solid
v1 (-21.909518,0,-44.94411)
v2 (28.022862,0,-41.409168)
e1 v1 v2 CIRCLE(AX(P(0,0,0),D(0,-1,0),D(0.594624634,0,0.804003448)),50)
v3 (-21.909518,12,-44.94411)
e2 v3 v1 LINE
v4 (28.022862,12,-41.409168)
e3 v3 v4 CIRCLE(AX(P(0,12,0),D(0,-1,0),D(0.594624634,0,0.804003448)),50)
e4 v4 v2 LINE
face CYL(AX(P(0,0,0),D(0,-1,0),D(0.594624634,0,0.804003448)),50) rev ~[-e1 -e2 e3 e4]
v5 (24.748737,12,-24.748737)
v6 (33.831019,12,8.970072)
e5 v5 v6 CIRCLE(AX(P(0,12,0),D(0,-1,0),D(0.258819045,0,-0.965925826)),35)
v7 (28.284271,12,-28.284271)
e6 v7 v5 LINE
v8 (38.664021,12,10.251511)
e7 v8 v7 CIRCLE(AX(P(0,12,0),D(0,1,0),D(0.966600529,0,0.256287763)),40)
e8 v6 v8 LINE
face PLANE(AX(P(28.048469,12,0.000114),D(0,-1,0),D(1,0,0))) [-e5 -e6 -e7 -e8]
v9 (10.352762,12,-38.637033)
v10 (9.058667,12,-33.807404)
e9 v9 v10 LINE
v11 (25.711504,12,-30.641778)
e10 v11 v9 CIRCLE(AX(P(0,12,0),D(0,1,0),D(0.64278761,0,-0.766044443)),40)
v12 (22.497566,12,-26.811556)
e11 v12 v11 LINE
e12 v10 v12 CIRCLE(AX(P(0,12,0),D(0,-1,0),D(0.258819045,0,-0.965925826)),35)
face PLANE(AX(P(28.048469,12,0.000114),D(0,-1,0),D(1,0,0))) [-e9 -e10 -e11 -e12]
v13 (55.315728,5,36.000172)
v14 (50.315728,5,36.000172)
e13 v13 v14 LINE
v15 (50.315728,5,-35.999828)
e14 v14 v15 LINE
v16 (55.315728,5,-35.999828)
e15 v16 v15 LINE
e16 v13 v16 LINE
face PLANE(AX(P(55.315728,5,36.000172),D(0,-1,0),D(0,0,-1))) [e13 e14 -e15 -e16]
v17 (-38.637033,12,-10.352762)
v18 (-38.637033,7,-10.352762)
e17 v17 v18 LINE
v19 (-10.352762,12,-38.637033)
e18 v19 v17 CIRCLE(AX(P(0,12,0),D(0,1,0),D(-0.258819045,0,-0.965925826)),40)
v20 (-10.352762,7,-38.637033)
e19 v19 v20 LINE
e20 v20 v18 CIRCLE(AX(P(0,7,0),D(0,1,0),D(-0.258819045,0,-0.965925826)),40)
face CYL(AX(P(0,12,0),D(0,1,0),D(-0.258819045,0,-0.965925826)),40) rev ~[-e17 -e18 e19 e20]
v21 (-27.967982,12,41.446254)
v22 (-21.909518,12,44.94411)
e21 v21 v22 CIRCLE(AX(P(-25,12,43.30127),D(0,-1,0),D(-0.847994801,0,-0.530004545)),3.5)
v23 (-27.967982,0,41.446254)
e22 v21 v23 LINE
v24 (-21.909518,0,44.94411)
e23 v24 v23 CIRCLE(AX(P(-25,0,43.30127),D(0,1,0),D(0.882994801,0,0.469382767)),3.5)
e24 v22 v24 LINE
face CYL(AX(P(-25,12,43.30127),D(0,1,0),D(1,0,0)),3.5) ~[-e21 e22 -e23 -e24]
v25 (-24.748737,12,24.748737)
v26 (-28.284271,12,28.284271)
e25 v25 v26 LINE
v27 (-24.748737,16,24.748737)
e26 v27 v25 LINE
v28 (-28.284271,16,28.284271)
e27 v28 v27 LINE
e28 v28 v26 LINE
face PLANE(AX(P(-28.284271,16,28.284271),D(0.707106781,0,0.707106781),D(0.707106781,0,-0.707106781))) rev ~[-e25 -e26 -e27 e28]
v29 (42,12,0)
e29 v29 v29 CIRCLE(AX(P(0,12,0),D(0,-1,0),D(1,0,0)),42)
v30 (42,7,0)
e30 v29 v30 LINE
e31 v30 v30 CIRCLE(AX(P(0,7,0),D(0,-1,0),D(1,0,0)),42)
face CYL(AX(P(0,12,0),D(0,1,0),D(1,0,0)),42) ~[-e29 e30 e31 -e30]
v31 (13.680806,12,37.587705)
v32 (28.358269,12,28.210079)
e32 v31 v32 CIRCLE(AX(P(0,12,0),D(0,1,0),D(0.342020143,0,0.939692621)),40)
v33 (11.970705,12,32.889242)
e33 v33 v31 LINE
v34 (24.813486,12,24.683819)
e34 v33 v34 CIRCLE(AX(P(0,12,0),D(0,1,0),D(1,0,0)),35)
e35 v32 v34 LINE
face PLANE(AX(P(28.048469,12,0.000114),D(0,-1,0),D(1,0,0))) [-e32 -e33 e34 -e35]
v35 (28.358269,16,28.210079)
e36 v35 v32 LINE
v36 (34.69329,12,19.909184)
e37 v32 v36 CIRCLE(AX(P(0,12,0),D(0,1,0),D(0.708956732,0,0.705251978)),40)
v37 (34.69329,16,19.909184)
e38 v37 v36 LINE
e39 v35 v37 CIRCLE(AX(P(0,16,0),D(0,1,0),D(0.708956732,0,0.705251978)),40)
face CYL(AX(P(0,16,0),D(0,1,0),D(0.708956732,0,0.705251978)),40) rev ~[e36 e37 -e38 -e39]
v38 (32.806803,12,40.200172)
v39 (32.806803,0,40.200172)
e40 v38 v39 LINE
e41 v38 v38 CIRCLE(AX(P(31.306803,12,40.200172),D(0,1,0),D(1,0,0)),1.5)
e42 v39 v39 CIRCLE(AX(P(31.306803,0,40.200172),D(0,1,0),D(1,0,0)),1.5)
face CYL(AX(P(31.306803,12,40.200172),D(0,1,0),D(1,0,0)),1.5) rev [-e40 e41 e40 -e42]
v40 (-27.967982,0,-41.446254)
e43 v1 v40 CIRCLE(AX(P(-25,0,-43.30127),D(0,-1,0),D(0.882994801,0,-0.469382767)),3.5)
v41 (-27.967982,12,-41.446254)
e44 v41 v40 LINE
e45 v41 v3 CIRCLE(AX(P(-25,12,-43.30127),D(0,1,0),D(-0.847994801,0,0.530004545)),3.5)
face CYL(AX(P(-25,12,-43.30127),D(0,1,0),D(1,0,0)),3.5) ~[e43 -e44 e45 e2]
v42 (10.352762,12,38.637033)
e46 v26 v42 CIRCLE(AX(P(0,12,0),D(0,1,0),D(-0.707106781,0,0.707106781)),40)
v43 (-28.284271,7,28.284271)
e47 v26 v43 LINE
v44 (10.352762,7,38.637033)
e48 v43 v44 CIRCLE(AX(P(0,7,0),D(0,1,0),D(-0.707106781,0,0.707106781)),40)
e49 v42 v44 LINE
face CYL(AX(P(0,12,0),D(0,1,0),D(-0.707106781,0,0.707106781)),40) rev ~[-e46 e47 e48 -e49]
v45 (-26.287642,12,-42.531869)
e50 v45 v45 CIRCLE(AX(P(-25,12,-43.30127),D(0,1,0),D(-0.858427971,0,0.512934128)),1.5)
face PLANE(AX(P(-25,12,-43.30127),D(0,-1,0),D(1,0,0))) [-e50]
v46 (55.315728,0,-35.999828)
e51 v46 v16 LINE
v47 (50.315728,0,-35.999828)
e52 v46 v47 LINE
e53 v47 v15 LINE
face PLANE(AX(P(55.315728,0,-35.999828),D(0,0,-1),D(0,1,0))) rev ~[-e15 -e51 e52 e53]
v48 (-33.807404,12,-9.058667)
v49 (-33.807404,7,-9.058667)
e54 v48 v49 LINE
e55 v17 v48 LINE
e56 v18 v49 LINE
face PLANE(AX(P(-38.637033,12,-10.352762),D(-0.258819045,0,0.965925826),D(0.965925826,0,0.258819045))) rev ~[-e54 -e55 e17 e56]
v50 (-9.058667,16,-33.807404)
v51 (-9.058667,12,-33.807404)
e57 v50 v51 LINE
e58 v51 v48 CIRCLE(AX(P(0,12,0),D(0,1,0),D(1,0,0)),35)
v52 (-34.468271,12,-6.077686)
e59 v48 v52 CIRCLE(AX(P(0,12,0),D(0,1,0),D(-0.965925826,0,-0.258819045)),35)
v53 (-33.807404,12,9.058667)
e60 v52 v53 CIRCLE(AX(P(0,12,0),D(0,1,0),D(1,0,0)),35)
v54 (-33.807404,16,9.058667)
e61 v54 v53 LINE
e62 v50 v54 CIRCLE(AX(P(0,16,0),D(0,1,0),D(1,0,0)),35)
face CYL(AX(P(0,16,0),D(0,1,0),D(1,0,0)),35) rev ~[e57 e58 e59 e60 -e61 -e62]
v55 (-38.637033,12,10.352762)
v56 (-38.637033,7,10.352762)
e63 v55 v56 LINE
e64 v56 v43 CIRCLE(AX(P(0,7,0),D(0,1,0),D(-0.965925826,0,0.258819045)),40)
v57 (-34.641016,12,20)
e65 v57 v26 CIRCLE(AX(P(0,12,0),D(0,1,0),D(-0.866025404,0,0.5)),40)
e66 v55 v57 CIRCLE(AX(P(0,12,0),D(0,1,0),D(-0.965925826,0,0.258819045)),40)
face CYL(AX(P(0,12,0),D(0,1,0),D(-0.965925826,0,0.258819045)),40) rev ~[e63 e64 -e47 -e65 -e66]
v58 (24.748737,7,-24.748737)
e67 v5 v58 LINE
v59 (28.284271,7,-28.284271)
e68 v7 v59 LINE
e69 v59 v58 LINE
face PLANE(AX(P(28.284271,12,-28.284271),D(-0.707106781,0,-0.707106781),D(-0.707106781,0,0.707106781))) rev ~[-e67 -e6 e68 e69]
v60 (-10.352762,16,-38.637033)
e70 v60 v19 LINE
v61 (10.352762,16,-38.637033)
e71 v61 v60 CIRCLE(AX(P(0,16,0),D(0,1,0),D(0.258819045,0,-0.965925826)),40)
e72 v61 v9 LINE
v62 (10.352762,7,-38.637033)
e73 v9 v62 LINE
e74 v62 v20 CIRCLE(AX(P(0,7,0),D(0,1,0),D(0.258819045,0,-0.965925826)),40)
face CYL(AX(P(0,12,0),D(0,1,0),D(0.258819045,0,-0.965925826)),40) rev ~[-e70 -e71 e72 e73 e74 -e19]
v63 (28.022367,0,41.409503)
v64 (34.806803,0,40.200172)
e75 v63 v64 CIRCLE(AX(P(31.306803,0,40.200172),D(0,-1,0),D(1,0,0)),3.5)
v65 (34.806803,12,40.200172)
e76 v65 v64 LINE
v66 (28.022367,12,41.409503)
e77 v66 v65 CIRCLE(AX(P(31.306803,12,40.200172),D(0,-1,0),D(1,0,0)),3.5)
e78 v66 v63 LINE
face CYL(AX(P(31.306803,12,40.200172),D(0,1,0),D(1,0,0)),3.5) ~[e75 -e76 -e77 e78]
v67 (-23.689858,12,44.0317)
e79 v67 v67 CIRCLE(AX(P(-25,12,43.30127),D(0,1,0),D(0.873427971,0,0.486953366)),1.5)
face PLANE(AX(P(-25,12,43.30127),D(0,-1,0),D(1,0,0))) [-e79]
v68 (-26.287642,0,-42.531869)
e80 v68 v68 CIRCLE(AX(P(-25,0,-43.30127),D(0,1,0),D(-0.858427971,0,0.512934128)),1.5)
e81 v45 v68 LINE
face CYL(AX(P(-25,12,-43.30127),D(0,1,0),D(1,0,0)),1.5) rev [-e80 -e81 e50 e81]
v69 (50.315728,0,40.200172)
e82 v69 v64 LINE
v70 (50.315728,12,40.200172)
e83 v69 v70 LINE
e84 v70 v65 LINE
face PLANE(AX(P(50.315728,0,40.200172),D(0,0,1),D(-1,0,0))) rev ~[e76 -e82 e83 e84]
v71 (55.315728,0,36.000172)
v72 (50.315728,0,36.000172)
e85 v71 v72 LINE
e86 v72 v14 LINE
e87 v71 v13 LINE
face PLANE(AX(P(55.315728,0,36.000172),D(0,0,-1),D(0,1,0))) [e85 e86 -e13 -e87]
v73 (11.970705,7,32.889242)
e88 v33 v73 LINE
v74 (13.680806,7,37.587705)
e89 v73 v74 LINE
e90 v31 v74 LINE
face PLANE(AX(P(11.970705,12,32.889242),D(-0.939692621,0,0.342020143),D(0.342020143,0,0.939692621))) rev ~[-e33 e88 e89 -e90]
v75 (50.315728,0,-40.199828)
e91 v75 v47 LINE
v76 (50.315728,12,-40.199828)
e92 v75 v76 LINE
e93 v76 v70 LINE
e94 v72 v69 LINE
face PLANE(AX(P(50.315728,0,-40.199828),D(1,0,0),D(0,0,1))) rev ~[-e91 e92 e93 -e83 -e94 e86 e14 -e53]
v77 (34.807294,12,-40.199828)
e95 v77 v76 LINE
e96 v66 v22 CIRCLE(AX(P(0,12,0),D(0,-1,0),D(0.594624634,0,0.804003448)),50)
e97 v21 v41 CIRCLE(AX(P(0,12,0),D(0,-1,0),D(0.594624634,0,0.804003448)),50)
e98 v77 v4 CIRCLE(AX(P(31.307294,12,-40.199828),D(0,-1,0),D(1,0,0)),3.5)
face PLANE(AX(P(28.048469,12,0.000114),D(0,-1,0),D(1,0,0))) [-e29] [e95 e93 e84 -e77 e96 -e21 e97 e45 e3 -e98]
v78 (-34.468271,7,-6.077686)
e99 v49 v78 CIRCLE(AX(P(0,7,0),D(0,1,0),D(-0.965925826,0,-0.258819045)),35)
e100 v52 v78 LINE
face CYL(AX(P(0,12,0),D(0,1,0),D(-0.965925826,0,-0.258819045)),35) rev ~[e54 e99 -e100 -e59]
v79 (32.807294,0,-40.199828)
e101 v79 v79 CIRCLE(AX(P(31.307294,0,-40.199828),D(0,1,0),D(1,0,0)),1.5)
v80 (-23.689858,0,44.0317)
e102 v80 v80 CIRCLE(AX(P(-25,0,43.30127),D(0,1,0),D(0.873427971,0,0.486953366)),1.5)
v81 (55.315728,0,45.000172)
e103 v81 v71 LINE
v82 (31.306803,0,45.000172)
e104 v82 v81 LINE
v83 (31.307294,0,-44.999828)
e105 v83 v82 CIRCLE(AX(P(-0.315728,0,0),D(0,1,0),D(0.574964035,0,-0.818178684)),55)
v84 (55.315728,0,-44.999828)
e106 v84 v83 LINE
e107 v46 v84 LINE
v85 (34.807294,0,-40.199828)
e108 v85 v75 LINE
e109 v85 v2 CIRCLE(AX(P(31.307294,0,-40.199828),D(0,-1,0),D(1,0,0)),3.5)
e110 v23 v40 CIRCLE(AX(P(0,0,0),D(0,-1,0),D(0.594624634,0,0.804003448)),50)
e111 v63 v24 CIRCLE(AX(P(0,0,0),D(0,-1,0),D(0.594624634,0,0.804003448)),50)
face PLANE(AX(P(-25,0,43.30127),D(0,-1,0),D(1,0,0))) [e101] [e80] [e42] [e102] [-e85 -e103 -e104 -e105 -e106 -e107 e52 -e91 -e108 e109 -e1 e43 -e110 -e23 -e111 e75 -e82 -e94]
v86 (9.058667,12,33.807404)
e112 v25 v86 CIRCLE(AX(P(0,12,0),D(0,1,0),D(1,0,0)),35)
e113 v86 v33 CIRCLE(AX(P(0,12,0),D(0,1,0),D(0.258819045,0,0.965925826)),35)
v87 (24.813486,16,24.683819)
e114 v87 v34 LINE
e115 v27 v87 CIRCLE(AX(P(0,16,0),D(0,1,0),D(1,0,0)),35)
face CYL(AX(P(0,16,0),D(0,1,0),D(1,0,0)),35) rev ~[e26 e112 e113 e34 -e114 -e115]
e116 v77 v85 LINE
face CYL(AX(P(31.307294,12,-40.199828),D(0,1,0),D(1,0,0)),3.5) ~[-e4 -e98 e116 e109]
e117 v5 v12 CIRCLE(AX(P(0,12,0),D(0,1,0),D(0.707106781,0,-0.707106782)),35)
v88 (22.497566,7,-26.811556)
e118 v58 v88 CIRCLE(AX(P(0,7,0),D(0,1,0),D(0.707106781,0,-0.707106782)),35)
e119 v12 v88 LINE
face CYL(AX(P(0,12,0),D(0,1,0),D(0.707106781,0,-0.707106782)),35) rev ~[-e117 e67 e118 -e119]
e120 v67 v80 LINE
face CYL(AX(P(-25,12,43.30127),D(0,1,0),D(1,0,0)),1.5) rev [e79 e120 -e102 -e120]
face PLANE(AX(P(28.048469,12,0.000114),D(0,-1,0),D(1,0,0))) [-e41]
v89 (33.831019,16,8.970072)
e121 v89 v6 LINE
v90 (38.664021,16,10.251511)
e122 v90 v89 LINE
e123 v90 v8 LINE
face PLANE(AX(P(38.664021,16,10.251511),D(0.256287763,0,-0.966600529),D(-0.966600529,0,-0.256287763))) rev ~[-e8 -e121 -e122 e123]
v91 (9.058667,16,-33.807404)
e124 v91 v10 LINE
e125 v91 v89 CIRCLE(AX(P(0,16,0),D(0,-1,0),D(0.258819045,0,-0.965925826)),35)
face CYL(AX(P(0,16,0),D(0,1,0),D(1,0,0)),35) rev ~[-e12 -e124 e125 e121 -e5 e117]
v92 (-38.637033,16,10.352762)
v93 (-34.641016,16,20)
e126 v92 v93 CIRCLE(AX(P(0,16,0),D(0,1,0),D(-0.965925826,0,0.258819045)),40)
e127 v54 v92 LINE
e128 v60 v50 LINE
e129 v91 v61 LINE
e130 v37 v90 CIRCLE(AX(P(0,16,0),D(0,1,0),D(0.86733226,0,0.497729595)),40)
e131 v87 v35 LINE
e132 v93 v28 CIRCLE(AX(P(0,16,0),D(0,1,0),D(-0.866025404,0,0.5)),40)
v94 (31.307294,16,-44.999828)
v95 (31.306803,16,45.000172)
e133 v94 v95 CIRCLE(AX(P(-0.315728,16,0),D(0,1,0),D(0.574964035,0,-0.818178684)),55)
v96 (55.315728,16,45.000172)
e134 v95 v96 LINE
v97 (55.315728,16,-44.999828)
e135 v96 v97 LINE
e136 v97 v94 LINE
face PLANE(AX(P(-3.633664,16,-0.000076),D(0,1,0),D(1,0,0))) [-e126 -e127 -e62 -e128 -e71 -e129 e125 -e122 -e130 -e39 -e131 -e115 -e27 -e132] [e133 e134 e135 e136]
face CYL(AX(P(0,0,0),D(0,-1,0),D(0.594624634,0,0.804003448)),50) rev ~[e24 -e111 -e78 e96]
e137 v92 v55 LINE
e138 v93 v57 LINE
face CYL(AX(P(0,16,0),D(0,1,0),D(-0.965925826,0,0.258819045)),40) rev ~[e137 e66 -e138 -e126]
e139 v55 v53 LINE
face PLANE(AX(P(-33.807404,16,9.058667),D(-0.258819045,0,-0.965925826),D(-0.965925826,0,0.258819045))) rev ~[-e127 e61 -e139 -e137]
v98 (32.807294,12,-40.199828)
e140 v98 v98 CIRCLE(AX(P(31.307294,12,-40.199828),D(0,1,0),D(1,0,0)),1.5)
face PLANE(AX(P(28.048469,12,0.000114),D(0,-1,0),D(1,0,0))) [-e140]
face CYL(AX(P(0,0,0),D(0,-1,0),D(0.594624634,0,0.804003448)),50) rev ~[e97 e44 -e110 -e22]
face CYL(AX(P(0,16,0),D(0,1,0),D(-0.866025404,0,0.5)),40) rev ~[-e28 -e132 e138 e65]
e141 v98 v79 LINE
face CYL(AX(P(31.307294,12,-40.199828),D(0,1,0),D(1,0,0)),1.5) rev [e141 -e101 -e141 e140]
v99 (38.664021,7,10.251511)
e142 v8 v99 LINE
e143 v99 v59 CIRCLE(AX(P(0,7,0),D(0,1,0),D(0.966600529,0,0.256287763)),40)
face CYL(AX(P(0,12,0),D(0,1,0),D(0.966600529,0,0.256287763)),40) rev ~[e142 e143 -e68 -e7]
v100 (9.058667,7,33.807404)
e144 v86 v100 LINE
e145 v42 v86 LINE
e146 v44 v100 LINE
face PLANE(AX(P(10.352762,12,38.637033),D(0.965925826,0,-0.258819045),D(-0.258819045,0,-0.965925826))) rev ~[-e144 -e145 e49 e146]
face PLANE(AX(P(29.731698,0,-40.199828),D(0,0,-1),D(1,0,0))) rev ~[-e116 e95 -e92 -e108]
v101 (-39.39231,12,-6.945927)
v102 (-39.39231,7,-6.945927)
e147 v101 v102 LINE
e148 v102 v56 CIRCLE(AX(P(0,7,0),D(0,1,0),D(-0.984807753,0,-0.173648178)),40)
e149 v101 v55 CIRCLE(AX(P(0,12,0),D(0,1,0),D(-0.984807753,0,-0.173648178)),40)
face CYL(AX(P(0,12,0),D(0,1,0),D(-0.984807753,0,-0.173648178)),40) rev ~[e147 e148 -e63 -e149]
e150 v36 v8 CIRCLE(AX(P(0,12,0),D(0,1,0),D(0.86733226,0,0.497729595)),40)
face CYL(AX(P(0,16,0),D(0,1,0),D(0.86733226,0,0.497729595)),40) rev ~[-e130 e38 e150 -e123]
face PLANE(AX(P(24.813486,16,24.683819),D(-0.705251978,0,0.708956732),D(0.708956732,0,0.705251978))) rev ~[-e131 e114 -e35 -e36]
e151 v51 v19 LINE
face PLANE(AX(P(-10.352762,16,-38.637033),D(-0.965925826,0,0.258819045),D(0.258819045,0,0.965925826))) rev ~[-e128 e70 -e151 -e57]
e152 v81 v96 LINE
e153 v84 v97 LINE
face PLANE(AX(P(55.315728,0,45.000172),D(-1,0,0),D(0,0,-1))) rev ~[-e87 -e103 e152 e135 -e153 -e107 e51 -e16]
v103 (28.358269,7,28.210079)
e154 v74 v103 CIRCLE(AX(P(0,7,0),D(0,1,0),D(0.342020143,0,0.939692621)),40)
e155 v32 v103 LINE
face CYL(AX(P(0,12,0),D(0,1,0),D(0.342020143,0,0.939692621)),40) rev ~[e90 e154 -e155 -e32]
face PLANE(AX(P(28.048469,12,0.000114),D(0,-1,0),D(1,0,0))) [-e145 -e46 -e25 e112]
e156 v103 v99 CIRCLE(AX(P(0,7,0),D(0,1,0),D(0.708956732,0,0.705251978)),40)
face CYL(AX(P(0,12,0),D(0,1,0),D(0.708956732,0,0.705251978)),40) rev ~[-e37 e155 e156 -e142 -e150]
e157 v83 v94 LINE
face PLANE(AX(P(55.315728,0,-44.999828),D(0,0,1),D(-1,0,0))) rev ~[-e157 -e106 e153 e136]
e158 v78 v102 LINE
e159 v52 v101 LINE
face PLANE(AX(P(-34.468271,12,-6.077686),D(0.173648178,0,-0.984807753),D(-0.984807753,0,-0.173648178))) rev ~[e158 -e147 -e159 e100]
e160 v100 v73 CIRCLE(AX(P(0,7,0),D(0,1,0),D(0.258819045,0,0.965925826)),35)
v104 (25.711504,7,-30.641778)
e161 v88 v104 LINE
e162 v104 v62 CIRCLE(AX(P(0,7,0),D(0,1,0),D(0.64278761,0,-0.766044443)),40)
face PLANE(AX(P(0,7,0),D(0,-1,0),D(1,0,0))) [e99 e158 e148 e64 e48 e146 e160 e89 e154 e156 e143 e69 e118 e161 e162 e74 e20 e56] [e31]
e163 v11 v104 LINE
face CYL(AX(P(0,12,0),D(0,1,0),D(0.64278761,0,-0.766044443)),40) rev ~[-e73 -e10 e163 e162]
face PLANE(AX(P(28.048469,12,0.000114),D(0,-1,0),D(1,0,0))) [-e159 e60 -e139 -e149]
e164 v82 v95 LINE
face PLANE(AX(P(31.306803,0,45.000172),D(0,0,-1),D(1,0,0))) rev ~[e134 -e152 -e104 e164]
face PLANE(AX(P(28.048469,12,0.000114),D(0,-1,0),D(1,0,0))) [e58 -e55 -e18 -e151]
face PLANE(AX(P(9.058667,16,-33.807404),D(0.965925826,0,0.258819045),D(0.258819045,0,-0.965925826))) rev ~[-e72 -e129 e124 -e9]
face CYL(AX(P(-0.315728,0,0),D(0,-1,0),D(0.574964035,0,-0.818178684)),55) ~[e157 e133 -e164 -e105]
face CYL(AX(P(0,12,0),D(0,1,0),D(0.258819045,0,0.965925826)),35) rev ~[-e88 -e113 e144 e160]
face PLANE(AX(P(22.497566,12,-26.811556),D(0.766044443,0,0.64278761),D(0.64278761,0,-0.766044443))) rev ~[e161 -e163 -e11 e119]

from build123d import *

# Parameters (mm, degrees)
BOSS_EXTRUDE1_DEPTH = 16
CUT_EXTRUDE1_DEPTH  = 12
SKETCH4_W           = 72
SKETCH4_H           = 5
CUT_EXTRUDE2_DEPTH  = 16
SKETCH5_R           = 35
CUT_EXTRUDE3_DEPTH  = 16
CUT_EXTRUDE4_DEPTH  = 10
SKETCH7_R           = 42
BOSS_EXTRUDE2_DEPTH = 5
SKETCH8_R           = 3.5
SKETCH8_R_2         = 1.5
BOSS_EXTRUDE3_DEPTH = 12
SKETCH9_R           = 1.5
CUT_EXTRUDE5_DEPTH  = 12


with BuildPart() as part:
    # Sketch1 → Boss-Extrude1 (new body)
    with BuildSketch(Plane(origin=(0, 0, 0), x_dir=(1, 0, 0), z_dir=(0, 1, 0))):
        with BuildLine():
            Line((24.684271836, -45.0001724), (24.684271836, 44.9998276))
            Line((24.684271836, 44.9998276), (31.307293766, 44.9998276))
            ThreePointArc((31.307293766, 44.9998276), (-55.315728163, 0.000299848), (31.306803106, -45.0001724))
            Line((31.306803106, -45.0001724), (24.684271836, -45.0001724))
        make_face()
        with BuildLine():
            Line((31.307293766, 44.9998276), (24.684271836, 44.9998276))
            Line((24.684271836, 44.9998276), (24.684271836, -45.0001724))
            Line((24.684271836, -45.0001724), (31.306803106, -45.0001724))
            ThreePointArc((31.306803106, -45.0001724), (48.491234556, -25.355086079), (54.684271836, 0))
            ThreePointArc((54.684271836, 0), (48.491372785, 25.354819994), (31.307293766, 44.9998276))
        make_face()
        with BuildLine():
            Line((55.315728164, 44.9998276), (31.307293766, 44.9998276))
            ThreePointArc((31.307293766, 44.9998276), (48.491372785, 25.354819994), (54.684271836, 0))
            ThreePointArc((54.684271836, 0), (48.491234556, -25.355086079), (31.306803106, -45.0001724))
            Line((31.306803106, -45.0001724), (55.315728164, -45.0001724))
            Line((55.315728164, -45.0001724), (55.315728164, 44.9998276))
        make_face()
    extrude(amount=BOSS_EXTRUDE1_DEPTH)

    # Sketch3 → Cut-Extrude1 (cut)
    with BuildSketch(Plane.XZ):
        with BuildLine():
            ThreePointArc((50, 0), (44.646173327, 22.510424413), (29.73123171, 40.2001724))
            Line((29.73123171, 40.2001724), (13.648760289, 40.2001724))
            Line((13.648760289, 40.2001724), (13.648760289, -40.1998276))
            Line((13.648760289, -40.1998276), (29.731697916, -40.1998276))
            ThreePointArc((29.731697916, -40.1998276), (44.646303855, -22.510165528), (50, 0))
        make_face()
        with BuildLine():
            Line((13.648760289, 40.2001724), (29.73123171, 40.2001724))
            ThreePointArc((29.73123171, 40.2001724), (-49.999999999, -0.000289929), (29.731697916, -40.1998276))
            Line((29.731697916, -40.1998276), (13.648760289, -40.1998276))
            Line((13.648760289, -40.1998276), (13.648760289, 40.2001724))
        make_face()
        with BuildLine():
            Line((50.315728164, -40.1998276), (50.315728164, 40.2001724))
            Line((50.315728164, 40.2001724), (29.73123171, 40.2001724))
            ThreePointArc((29.73123171, 40.2001724), (44.646173327, 22.510424413), (50, 0))
            ThreePointArc((50, 0), (44.646303855, -22.510165528), (29.731697916, -40.1998276))
            Line((29.731697916, -40.1998276), (50.315728164, -40.1998276))
        make_face()
    extrude(amount=-CUT_EXTRUDE1_DEPTH, mode=Mode.SUBTRACT)

    # Sketch4 → Cut-Extrude2 (cut)
    with BuildSketch(Plane(origin=(55.315728164, 0, 0), x_dir=(0, 0, -1), z_dir=(1, 0, 0))):
        with Locations((-0.0001724, 2.5)):
            Rectangle(SKETCH4_W, SKETCH4_H)
    extrude(amount=-CUT_EXTRUDE2_DEPTH, mode=Mode.SUBTRACT)

    # Sketch5 → Cut-Extrude3 (cut)
    with BuildSketch(Plane(origin=(0, 16, 0), x_dir=(1, 0, 0), z_dir=(0, 1, 0))):
        Circle(SKETCH5_R)
    extrude(amount=-CUT_EXTRUDE3_DEPTH, mode=Mode.SUBTRACT)

    # Sketch6 → Cut-Extrude4 (cut)
    with BuildSketch(Plane(origin=(0, 16, 0), x_dir=(1, 0, 0), z_dir=(0, 1, 0))):
        with BuildLine():
            Line((-28.284271247, -28.284271247), (-24.748737342, -24.748737342))
            ThreePointArc((-24.748737342, -24.748737342), (-27.76736691, -21.306650015), (-30.310889132, -17.5))
            Line((-30.310889132, -17.5), (-34.641016151, -20))
            ThreePointArc((-34.641016151, -20), (-31.734133612, -24.35045716), (-28.284271247, -28.284271247))
        make_face()
        with BuildLine():
            Line((-34.641016151, -20), (-30.310889132, -17.5))
            ThreePointArc((-30.310889132, -17.5), (-32.335783638, -13.393920133), (-33.80740392, -9.058666579))
            Line((-33.80740392, -9.058666579), (-38.637033052, -10.352761804))
            ThreePointArc((-38.637033052, -10.352761804), (-36.9551813, -15.307337295), (-34.641016151, -20))
        make_face()
        with BuildLine():
            Line((-10.352761804, 38.637033052), (-9.058666579, 33.80740392))
            ThreePointArc((-9.058666579, 33.80740392), (0, 35), (9.058666579, 33.80740392))
            Line((9.058666579, 33.80740392), (10.352761804, 38.637033052))
            ThreePointArc((10.352761804, 38.637033052), (0, 40), (-10.352761804, 38.637033052))
        make_face()
        with BuildLine():
            ThreePointArc((33.831018509, -8.970071717), (32.370760151, -13.309165535), (30.356629112, -17.420535841))
            Line((30.356629112, -17.420535841), (34.693290413, -19.909183818))
            ThreePointArc((34.693290413, -19.909183818), (36.995154458, -15.210474897), (38.664021154, -10.251510534))
            Line((38.664021154, -10.251510534), (33.831018509, -8.970071717))
        make_face()
        with BuildLine():
            ThreePointArc((30.356629112, -17.420535841), (27.823087732, -21.233835948), (24.813485607, -24.683819236))
            Line((24.813485607, -24.683819236), (28.358269265, -28.210079126))
            ThreePointArc((28.358269265, -28.210079126), (31.79781455, -24.267241084), (34.693290413, -19.909183818))
            Line((34.693290413, -19.909183818), (30.356629112, -17.420535841))
        make_face()
    extrude(amount=-CUT_EXTRUDE4_DEPTH, mode=Mode.SUBTRACT)

    # Sketch7 → Boss-Extrude2 (add)
    with BuildSketch(Plane.XZ.offset(-12)):
        Circle(SKETCH7_R)
        with BuildLine():
            ThreePointArc((-28.284271247, 28.284271247), (-10.352761804, 38.637033052), (10.352761804, 38.637033052))
            Line((10.352761804, 38.637033052), (9.058666579, 33.80740392))
            ThreePointArc((9.058666579, 33.80740392), (10.524702983, 33.380093276), (11.970705016, 32.889241728))
            Line((11.970705016, 32.889241728), (13.680805733, 37.587704831))
            ThreePointArc((13.680805733, 37.587704831), (21.53615385, 33.707478063), (28.358269265, 28.210079126))
            ThreePointArc((28.358269265, 28.210079126), (34.693290413, 19.909183818), (38.664021154, 10.251510534))
            ThreePointArc((38.664021154, 10.251510534), (38.623439557, -10.40336084), (28.284271247, -28.284271247))
            Line((28.284271247, -28.284271247), (24.748737342, -24.748737342))
            ThreePointArc((24.748737342, -24.748737342), (23.645657267, -25.804706788), (22.497566339, -26.811555509))
            Line((22.497566339, -26.811555509), (25.711504387, -30.641777725))
            ThreePointArc((25.711504387, -30.641777725), (18.469944529, -35.480433327), (10.352761804, -38.637033052))
            ThreePointArc((10.352761804, -38.637033052), (0, -40), (-10.352761804, -38.637033052))
            ThreePointArc((-10.352761804, -38.637033052), (-28.284271247, -28.284271247), (-38.637033052, -10.352761804))
            Line((-38.637033052, -10.352761804), (-33.80740392, -9.058666579))
            ThreePointArc((-33.80740392, -9.058666579), (-34.170360249, -7.575386488), (-34.468271355, -6.077686218))
            Line((-34.468271355, -6.077686218), (-39.39231012, -6.945927107))
            ThreePointArc((-39.39231012, -6.945927107), (-39.961928863, 1.744775495), (-38.637033052, 10.352761804))
            ThreePointArc((-38.637033052, 10.352761804), (-34.641016151, 20), (-28.284271247, 28.284271247))
        make_face(mode=Mode.SUBTRACT)
    extrude(amount=BOSS_EXTRUDE2_DEPTH)

    # Sketch8 → Boss-Extrude3 (add)
    with BuildSketch(Plane.XZ.offset(-12)):
        with Locations((-25, 43.301270189)):
            Circle(SKETCH8_R)
        with Locations((-25, 43.301270189)):
            Circle(SKETCH8_R_2, mode=Mode.SUBTRACT)
        with Locations((-25, -43.301270189)):
            Circle(SKETCH8_R)
        with Locations((-25, -43.301270189)):
            Circle(SKETCH8_R_2, mode=Mode.SUBTRACT)
        with Locations((31.306803106, 40.2001724)):
            Circle(SKETCH8_R)
        with Locations((31.306803106, 40.2001724)):
            Circle(SKETCH8_R_2, mode=Mode.SUBTRACT)
        with Locations((31.307293766, -40.1998276)):
            Circle(SKETCH8_R)
        with Locations((31.307293766, -40.1998276)):
            Circle(SKETCH8_R_2, mode=Mode.SUBTRACT)
    extrude(amount=BOSS_EXTRUDE3_DEPTH)

    # Sketch9 → Cut-Extrude5 (cut)
    with BuildSketch(Plane.XZ.offset(-12)):
        with Locations((-25, 43.301270189)):
            Circle(SKETCH9_R)
        with Locations((31.306803106, 40.2001724)):
            Circle(SKETCH9_R)
        with Locations((-25, -43.301270189)):
            Circle(SKETCH9_R)
        with Locations((31.307293766, -40.1998276)):
            Circle(SKETCH9_R)
    extrude(amount=CUT_EXTRUDE5_DEPTH, mode=Mode.SUBTRACT)


solid = part.part
